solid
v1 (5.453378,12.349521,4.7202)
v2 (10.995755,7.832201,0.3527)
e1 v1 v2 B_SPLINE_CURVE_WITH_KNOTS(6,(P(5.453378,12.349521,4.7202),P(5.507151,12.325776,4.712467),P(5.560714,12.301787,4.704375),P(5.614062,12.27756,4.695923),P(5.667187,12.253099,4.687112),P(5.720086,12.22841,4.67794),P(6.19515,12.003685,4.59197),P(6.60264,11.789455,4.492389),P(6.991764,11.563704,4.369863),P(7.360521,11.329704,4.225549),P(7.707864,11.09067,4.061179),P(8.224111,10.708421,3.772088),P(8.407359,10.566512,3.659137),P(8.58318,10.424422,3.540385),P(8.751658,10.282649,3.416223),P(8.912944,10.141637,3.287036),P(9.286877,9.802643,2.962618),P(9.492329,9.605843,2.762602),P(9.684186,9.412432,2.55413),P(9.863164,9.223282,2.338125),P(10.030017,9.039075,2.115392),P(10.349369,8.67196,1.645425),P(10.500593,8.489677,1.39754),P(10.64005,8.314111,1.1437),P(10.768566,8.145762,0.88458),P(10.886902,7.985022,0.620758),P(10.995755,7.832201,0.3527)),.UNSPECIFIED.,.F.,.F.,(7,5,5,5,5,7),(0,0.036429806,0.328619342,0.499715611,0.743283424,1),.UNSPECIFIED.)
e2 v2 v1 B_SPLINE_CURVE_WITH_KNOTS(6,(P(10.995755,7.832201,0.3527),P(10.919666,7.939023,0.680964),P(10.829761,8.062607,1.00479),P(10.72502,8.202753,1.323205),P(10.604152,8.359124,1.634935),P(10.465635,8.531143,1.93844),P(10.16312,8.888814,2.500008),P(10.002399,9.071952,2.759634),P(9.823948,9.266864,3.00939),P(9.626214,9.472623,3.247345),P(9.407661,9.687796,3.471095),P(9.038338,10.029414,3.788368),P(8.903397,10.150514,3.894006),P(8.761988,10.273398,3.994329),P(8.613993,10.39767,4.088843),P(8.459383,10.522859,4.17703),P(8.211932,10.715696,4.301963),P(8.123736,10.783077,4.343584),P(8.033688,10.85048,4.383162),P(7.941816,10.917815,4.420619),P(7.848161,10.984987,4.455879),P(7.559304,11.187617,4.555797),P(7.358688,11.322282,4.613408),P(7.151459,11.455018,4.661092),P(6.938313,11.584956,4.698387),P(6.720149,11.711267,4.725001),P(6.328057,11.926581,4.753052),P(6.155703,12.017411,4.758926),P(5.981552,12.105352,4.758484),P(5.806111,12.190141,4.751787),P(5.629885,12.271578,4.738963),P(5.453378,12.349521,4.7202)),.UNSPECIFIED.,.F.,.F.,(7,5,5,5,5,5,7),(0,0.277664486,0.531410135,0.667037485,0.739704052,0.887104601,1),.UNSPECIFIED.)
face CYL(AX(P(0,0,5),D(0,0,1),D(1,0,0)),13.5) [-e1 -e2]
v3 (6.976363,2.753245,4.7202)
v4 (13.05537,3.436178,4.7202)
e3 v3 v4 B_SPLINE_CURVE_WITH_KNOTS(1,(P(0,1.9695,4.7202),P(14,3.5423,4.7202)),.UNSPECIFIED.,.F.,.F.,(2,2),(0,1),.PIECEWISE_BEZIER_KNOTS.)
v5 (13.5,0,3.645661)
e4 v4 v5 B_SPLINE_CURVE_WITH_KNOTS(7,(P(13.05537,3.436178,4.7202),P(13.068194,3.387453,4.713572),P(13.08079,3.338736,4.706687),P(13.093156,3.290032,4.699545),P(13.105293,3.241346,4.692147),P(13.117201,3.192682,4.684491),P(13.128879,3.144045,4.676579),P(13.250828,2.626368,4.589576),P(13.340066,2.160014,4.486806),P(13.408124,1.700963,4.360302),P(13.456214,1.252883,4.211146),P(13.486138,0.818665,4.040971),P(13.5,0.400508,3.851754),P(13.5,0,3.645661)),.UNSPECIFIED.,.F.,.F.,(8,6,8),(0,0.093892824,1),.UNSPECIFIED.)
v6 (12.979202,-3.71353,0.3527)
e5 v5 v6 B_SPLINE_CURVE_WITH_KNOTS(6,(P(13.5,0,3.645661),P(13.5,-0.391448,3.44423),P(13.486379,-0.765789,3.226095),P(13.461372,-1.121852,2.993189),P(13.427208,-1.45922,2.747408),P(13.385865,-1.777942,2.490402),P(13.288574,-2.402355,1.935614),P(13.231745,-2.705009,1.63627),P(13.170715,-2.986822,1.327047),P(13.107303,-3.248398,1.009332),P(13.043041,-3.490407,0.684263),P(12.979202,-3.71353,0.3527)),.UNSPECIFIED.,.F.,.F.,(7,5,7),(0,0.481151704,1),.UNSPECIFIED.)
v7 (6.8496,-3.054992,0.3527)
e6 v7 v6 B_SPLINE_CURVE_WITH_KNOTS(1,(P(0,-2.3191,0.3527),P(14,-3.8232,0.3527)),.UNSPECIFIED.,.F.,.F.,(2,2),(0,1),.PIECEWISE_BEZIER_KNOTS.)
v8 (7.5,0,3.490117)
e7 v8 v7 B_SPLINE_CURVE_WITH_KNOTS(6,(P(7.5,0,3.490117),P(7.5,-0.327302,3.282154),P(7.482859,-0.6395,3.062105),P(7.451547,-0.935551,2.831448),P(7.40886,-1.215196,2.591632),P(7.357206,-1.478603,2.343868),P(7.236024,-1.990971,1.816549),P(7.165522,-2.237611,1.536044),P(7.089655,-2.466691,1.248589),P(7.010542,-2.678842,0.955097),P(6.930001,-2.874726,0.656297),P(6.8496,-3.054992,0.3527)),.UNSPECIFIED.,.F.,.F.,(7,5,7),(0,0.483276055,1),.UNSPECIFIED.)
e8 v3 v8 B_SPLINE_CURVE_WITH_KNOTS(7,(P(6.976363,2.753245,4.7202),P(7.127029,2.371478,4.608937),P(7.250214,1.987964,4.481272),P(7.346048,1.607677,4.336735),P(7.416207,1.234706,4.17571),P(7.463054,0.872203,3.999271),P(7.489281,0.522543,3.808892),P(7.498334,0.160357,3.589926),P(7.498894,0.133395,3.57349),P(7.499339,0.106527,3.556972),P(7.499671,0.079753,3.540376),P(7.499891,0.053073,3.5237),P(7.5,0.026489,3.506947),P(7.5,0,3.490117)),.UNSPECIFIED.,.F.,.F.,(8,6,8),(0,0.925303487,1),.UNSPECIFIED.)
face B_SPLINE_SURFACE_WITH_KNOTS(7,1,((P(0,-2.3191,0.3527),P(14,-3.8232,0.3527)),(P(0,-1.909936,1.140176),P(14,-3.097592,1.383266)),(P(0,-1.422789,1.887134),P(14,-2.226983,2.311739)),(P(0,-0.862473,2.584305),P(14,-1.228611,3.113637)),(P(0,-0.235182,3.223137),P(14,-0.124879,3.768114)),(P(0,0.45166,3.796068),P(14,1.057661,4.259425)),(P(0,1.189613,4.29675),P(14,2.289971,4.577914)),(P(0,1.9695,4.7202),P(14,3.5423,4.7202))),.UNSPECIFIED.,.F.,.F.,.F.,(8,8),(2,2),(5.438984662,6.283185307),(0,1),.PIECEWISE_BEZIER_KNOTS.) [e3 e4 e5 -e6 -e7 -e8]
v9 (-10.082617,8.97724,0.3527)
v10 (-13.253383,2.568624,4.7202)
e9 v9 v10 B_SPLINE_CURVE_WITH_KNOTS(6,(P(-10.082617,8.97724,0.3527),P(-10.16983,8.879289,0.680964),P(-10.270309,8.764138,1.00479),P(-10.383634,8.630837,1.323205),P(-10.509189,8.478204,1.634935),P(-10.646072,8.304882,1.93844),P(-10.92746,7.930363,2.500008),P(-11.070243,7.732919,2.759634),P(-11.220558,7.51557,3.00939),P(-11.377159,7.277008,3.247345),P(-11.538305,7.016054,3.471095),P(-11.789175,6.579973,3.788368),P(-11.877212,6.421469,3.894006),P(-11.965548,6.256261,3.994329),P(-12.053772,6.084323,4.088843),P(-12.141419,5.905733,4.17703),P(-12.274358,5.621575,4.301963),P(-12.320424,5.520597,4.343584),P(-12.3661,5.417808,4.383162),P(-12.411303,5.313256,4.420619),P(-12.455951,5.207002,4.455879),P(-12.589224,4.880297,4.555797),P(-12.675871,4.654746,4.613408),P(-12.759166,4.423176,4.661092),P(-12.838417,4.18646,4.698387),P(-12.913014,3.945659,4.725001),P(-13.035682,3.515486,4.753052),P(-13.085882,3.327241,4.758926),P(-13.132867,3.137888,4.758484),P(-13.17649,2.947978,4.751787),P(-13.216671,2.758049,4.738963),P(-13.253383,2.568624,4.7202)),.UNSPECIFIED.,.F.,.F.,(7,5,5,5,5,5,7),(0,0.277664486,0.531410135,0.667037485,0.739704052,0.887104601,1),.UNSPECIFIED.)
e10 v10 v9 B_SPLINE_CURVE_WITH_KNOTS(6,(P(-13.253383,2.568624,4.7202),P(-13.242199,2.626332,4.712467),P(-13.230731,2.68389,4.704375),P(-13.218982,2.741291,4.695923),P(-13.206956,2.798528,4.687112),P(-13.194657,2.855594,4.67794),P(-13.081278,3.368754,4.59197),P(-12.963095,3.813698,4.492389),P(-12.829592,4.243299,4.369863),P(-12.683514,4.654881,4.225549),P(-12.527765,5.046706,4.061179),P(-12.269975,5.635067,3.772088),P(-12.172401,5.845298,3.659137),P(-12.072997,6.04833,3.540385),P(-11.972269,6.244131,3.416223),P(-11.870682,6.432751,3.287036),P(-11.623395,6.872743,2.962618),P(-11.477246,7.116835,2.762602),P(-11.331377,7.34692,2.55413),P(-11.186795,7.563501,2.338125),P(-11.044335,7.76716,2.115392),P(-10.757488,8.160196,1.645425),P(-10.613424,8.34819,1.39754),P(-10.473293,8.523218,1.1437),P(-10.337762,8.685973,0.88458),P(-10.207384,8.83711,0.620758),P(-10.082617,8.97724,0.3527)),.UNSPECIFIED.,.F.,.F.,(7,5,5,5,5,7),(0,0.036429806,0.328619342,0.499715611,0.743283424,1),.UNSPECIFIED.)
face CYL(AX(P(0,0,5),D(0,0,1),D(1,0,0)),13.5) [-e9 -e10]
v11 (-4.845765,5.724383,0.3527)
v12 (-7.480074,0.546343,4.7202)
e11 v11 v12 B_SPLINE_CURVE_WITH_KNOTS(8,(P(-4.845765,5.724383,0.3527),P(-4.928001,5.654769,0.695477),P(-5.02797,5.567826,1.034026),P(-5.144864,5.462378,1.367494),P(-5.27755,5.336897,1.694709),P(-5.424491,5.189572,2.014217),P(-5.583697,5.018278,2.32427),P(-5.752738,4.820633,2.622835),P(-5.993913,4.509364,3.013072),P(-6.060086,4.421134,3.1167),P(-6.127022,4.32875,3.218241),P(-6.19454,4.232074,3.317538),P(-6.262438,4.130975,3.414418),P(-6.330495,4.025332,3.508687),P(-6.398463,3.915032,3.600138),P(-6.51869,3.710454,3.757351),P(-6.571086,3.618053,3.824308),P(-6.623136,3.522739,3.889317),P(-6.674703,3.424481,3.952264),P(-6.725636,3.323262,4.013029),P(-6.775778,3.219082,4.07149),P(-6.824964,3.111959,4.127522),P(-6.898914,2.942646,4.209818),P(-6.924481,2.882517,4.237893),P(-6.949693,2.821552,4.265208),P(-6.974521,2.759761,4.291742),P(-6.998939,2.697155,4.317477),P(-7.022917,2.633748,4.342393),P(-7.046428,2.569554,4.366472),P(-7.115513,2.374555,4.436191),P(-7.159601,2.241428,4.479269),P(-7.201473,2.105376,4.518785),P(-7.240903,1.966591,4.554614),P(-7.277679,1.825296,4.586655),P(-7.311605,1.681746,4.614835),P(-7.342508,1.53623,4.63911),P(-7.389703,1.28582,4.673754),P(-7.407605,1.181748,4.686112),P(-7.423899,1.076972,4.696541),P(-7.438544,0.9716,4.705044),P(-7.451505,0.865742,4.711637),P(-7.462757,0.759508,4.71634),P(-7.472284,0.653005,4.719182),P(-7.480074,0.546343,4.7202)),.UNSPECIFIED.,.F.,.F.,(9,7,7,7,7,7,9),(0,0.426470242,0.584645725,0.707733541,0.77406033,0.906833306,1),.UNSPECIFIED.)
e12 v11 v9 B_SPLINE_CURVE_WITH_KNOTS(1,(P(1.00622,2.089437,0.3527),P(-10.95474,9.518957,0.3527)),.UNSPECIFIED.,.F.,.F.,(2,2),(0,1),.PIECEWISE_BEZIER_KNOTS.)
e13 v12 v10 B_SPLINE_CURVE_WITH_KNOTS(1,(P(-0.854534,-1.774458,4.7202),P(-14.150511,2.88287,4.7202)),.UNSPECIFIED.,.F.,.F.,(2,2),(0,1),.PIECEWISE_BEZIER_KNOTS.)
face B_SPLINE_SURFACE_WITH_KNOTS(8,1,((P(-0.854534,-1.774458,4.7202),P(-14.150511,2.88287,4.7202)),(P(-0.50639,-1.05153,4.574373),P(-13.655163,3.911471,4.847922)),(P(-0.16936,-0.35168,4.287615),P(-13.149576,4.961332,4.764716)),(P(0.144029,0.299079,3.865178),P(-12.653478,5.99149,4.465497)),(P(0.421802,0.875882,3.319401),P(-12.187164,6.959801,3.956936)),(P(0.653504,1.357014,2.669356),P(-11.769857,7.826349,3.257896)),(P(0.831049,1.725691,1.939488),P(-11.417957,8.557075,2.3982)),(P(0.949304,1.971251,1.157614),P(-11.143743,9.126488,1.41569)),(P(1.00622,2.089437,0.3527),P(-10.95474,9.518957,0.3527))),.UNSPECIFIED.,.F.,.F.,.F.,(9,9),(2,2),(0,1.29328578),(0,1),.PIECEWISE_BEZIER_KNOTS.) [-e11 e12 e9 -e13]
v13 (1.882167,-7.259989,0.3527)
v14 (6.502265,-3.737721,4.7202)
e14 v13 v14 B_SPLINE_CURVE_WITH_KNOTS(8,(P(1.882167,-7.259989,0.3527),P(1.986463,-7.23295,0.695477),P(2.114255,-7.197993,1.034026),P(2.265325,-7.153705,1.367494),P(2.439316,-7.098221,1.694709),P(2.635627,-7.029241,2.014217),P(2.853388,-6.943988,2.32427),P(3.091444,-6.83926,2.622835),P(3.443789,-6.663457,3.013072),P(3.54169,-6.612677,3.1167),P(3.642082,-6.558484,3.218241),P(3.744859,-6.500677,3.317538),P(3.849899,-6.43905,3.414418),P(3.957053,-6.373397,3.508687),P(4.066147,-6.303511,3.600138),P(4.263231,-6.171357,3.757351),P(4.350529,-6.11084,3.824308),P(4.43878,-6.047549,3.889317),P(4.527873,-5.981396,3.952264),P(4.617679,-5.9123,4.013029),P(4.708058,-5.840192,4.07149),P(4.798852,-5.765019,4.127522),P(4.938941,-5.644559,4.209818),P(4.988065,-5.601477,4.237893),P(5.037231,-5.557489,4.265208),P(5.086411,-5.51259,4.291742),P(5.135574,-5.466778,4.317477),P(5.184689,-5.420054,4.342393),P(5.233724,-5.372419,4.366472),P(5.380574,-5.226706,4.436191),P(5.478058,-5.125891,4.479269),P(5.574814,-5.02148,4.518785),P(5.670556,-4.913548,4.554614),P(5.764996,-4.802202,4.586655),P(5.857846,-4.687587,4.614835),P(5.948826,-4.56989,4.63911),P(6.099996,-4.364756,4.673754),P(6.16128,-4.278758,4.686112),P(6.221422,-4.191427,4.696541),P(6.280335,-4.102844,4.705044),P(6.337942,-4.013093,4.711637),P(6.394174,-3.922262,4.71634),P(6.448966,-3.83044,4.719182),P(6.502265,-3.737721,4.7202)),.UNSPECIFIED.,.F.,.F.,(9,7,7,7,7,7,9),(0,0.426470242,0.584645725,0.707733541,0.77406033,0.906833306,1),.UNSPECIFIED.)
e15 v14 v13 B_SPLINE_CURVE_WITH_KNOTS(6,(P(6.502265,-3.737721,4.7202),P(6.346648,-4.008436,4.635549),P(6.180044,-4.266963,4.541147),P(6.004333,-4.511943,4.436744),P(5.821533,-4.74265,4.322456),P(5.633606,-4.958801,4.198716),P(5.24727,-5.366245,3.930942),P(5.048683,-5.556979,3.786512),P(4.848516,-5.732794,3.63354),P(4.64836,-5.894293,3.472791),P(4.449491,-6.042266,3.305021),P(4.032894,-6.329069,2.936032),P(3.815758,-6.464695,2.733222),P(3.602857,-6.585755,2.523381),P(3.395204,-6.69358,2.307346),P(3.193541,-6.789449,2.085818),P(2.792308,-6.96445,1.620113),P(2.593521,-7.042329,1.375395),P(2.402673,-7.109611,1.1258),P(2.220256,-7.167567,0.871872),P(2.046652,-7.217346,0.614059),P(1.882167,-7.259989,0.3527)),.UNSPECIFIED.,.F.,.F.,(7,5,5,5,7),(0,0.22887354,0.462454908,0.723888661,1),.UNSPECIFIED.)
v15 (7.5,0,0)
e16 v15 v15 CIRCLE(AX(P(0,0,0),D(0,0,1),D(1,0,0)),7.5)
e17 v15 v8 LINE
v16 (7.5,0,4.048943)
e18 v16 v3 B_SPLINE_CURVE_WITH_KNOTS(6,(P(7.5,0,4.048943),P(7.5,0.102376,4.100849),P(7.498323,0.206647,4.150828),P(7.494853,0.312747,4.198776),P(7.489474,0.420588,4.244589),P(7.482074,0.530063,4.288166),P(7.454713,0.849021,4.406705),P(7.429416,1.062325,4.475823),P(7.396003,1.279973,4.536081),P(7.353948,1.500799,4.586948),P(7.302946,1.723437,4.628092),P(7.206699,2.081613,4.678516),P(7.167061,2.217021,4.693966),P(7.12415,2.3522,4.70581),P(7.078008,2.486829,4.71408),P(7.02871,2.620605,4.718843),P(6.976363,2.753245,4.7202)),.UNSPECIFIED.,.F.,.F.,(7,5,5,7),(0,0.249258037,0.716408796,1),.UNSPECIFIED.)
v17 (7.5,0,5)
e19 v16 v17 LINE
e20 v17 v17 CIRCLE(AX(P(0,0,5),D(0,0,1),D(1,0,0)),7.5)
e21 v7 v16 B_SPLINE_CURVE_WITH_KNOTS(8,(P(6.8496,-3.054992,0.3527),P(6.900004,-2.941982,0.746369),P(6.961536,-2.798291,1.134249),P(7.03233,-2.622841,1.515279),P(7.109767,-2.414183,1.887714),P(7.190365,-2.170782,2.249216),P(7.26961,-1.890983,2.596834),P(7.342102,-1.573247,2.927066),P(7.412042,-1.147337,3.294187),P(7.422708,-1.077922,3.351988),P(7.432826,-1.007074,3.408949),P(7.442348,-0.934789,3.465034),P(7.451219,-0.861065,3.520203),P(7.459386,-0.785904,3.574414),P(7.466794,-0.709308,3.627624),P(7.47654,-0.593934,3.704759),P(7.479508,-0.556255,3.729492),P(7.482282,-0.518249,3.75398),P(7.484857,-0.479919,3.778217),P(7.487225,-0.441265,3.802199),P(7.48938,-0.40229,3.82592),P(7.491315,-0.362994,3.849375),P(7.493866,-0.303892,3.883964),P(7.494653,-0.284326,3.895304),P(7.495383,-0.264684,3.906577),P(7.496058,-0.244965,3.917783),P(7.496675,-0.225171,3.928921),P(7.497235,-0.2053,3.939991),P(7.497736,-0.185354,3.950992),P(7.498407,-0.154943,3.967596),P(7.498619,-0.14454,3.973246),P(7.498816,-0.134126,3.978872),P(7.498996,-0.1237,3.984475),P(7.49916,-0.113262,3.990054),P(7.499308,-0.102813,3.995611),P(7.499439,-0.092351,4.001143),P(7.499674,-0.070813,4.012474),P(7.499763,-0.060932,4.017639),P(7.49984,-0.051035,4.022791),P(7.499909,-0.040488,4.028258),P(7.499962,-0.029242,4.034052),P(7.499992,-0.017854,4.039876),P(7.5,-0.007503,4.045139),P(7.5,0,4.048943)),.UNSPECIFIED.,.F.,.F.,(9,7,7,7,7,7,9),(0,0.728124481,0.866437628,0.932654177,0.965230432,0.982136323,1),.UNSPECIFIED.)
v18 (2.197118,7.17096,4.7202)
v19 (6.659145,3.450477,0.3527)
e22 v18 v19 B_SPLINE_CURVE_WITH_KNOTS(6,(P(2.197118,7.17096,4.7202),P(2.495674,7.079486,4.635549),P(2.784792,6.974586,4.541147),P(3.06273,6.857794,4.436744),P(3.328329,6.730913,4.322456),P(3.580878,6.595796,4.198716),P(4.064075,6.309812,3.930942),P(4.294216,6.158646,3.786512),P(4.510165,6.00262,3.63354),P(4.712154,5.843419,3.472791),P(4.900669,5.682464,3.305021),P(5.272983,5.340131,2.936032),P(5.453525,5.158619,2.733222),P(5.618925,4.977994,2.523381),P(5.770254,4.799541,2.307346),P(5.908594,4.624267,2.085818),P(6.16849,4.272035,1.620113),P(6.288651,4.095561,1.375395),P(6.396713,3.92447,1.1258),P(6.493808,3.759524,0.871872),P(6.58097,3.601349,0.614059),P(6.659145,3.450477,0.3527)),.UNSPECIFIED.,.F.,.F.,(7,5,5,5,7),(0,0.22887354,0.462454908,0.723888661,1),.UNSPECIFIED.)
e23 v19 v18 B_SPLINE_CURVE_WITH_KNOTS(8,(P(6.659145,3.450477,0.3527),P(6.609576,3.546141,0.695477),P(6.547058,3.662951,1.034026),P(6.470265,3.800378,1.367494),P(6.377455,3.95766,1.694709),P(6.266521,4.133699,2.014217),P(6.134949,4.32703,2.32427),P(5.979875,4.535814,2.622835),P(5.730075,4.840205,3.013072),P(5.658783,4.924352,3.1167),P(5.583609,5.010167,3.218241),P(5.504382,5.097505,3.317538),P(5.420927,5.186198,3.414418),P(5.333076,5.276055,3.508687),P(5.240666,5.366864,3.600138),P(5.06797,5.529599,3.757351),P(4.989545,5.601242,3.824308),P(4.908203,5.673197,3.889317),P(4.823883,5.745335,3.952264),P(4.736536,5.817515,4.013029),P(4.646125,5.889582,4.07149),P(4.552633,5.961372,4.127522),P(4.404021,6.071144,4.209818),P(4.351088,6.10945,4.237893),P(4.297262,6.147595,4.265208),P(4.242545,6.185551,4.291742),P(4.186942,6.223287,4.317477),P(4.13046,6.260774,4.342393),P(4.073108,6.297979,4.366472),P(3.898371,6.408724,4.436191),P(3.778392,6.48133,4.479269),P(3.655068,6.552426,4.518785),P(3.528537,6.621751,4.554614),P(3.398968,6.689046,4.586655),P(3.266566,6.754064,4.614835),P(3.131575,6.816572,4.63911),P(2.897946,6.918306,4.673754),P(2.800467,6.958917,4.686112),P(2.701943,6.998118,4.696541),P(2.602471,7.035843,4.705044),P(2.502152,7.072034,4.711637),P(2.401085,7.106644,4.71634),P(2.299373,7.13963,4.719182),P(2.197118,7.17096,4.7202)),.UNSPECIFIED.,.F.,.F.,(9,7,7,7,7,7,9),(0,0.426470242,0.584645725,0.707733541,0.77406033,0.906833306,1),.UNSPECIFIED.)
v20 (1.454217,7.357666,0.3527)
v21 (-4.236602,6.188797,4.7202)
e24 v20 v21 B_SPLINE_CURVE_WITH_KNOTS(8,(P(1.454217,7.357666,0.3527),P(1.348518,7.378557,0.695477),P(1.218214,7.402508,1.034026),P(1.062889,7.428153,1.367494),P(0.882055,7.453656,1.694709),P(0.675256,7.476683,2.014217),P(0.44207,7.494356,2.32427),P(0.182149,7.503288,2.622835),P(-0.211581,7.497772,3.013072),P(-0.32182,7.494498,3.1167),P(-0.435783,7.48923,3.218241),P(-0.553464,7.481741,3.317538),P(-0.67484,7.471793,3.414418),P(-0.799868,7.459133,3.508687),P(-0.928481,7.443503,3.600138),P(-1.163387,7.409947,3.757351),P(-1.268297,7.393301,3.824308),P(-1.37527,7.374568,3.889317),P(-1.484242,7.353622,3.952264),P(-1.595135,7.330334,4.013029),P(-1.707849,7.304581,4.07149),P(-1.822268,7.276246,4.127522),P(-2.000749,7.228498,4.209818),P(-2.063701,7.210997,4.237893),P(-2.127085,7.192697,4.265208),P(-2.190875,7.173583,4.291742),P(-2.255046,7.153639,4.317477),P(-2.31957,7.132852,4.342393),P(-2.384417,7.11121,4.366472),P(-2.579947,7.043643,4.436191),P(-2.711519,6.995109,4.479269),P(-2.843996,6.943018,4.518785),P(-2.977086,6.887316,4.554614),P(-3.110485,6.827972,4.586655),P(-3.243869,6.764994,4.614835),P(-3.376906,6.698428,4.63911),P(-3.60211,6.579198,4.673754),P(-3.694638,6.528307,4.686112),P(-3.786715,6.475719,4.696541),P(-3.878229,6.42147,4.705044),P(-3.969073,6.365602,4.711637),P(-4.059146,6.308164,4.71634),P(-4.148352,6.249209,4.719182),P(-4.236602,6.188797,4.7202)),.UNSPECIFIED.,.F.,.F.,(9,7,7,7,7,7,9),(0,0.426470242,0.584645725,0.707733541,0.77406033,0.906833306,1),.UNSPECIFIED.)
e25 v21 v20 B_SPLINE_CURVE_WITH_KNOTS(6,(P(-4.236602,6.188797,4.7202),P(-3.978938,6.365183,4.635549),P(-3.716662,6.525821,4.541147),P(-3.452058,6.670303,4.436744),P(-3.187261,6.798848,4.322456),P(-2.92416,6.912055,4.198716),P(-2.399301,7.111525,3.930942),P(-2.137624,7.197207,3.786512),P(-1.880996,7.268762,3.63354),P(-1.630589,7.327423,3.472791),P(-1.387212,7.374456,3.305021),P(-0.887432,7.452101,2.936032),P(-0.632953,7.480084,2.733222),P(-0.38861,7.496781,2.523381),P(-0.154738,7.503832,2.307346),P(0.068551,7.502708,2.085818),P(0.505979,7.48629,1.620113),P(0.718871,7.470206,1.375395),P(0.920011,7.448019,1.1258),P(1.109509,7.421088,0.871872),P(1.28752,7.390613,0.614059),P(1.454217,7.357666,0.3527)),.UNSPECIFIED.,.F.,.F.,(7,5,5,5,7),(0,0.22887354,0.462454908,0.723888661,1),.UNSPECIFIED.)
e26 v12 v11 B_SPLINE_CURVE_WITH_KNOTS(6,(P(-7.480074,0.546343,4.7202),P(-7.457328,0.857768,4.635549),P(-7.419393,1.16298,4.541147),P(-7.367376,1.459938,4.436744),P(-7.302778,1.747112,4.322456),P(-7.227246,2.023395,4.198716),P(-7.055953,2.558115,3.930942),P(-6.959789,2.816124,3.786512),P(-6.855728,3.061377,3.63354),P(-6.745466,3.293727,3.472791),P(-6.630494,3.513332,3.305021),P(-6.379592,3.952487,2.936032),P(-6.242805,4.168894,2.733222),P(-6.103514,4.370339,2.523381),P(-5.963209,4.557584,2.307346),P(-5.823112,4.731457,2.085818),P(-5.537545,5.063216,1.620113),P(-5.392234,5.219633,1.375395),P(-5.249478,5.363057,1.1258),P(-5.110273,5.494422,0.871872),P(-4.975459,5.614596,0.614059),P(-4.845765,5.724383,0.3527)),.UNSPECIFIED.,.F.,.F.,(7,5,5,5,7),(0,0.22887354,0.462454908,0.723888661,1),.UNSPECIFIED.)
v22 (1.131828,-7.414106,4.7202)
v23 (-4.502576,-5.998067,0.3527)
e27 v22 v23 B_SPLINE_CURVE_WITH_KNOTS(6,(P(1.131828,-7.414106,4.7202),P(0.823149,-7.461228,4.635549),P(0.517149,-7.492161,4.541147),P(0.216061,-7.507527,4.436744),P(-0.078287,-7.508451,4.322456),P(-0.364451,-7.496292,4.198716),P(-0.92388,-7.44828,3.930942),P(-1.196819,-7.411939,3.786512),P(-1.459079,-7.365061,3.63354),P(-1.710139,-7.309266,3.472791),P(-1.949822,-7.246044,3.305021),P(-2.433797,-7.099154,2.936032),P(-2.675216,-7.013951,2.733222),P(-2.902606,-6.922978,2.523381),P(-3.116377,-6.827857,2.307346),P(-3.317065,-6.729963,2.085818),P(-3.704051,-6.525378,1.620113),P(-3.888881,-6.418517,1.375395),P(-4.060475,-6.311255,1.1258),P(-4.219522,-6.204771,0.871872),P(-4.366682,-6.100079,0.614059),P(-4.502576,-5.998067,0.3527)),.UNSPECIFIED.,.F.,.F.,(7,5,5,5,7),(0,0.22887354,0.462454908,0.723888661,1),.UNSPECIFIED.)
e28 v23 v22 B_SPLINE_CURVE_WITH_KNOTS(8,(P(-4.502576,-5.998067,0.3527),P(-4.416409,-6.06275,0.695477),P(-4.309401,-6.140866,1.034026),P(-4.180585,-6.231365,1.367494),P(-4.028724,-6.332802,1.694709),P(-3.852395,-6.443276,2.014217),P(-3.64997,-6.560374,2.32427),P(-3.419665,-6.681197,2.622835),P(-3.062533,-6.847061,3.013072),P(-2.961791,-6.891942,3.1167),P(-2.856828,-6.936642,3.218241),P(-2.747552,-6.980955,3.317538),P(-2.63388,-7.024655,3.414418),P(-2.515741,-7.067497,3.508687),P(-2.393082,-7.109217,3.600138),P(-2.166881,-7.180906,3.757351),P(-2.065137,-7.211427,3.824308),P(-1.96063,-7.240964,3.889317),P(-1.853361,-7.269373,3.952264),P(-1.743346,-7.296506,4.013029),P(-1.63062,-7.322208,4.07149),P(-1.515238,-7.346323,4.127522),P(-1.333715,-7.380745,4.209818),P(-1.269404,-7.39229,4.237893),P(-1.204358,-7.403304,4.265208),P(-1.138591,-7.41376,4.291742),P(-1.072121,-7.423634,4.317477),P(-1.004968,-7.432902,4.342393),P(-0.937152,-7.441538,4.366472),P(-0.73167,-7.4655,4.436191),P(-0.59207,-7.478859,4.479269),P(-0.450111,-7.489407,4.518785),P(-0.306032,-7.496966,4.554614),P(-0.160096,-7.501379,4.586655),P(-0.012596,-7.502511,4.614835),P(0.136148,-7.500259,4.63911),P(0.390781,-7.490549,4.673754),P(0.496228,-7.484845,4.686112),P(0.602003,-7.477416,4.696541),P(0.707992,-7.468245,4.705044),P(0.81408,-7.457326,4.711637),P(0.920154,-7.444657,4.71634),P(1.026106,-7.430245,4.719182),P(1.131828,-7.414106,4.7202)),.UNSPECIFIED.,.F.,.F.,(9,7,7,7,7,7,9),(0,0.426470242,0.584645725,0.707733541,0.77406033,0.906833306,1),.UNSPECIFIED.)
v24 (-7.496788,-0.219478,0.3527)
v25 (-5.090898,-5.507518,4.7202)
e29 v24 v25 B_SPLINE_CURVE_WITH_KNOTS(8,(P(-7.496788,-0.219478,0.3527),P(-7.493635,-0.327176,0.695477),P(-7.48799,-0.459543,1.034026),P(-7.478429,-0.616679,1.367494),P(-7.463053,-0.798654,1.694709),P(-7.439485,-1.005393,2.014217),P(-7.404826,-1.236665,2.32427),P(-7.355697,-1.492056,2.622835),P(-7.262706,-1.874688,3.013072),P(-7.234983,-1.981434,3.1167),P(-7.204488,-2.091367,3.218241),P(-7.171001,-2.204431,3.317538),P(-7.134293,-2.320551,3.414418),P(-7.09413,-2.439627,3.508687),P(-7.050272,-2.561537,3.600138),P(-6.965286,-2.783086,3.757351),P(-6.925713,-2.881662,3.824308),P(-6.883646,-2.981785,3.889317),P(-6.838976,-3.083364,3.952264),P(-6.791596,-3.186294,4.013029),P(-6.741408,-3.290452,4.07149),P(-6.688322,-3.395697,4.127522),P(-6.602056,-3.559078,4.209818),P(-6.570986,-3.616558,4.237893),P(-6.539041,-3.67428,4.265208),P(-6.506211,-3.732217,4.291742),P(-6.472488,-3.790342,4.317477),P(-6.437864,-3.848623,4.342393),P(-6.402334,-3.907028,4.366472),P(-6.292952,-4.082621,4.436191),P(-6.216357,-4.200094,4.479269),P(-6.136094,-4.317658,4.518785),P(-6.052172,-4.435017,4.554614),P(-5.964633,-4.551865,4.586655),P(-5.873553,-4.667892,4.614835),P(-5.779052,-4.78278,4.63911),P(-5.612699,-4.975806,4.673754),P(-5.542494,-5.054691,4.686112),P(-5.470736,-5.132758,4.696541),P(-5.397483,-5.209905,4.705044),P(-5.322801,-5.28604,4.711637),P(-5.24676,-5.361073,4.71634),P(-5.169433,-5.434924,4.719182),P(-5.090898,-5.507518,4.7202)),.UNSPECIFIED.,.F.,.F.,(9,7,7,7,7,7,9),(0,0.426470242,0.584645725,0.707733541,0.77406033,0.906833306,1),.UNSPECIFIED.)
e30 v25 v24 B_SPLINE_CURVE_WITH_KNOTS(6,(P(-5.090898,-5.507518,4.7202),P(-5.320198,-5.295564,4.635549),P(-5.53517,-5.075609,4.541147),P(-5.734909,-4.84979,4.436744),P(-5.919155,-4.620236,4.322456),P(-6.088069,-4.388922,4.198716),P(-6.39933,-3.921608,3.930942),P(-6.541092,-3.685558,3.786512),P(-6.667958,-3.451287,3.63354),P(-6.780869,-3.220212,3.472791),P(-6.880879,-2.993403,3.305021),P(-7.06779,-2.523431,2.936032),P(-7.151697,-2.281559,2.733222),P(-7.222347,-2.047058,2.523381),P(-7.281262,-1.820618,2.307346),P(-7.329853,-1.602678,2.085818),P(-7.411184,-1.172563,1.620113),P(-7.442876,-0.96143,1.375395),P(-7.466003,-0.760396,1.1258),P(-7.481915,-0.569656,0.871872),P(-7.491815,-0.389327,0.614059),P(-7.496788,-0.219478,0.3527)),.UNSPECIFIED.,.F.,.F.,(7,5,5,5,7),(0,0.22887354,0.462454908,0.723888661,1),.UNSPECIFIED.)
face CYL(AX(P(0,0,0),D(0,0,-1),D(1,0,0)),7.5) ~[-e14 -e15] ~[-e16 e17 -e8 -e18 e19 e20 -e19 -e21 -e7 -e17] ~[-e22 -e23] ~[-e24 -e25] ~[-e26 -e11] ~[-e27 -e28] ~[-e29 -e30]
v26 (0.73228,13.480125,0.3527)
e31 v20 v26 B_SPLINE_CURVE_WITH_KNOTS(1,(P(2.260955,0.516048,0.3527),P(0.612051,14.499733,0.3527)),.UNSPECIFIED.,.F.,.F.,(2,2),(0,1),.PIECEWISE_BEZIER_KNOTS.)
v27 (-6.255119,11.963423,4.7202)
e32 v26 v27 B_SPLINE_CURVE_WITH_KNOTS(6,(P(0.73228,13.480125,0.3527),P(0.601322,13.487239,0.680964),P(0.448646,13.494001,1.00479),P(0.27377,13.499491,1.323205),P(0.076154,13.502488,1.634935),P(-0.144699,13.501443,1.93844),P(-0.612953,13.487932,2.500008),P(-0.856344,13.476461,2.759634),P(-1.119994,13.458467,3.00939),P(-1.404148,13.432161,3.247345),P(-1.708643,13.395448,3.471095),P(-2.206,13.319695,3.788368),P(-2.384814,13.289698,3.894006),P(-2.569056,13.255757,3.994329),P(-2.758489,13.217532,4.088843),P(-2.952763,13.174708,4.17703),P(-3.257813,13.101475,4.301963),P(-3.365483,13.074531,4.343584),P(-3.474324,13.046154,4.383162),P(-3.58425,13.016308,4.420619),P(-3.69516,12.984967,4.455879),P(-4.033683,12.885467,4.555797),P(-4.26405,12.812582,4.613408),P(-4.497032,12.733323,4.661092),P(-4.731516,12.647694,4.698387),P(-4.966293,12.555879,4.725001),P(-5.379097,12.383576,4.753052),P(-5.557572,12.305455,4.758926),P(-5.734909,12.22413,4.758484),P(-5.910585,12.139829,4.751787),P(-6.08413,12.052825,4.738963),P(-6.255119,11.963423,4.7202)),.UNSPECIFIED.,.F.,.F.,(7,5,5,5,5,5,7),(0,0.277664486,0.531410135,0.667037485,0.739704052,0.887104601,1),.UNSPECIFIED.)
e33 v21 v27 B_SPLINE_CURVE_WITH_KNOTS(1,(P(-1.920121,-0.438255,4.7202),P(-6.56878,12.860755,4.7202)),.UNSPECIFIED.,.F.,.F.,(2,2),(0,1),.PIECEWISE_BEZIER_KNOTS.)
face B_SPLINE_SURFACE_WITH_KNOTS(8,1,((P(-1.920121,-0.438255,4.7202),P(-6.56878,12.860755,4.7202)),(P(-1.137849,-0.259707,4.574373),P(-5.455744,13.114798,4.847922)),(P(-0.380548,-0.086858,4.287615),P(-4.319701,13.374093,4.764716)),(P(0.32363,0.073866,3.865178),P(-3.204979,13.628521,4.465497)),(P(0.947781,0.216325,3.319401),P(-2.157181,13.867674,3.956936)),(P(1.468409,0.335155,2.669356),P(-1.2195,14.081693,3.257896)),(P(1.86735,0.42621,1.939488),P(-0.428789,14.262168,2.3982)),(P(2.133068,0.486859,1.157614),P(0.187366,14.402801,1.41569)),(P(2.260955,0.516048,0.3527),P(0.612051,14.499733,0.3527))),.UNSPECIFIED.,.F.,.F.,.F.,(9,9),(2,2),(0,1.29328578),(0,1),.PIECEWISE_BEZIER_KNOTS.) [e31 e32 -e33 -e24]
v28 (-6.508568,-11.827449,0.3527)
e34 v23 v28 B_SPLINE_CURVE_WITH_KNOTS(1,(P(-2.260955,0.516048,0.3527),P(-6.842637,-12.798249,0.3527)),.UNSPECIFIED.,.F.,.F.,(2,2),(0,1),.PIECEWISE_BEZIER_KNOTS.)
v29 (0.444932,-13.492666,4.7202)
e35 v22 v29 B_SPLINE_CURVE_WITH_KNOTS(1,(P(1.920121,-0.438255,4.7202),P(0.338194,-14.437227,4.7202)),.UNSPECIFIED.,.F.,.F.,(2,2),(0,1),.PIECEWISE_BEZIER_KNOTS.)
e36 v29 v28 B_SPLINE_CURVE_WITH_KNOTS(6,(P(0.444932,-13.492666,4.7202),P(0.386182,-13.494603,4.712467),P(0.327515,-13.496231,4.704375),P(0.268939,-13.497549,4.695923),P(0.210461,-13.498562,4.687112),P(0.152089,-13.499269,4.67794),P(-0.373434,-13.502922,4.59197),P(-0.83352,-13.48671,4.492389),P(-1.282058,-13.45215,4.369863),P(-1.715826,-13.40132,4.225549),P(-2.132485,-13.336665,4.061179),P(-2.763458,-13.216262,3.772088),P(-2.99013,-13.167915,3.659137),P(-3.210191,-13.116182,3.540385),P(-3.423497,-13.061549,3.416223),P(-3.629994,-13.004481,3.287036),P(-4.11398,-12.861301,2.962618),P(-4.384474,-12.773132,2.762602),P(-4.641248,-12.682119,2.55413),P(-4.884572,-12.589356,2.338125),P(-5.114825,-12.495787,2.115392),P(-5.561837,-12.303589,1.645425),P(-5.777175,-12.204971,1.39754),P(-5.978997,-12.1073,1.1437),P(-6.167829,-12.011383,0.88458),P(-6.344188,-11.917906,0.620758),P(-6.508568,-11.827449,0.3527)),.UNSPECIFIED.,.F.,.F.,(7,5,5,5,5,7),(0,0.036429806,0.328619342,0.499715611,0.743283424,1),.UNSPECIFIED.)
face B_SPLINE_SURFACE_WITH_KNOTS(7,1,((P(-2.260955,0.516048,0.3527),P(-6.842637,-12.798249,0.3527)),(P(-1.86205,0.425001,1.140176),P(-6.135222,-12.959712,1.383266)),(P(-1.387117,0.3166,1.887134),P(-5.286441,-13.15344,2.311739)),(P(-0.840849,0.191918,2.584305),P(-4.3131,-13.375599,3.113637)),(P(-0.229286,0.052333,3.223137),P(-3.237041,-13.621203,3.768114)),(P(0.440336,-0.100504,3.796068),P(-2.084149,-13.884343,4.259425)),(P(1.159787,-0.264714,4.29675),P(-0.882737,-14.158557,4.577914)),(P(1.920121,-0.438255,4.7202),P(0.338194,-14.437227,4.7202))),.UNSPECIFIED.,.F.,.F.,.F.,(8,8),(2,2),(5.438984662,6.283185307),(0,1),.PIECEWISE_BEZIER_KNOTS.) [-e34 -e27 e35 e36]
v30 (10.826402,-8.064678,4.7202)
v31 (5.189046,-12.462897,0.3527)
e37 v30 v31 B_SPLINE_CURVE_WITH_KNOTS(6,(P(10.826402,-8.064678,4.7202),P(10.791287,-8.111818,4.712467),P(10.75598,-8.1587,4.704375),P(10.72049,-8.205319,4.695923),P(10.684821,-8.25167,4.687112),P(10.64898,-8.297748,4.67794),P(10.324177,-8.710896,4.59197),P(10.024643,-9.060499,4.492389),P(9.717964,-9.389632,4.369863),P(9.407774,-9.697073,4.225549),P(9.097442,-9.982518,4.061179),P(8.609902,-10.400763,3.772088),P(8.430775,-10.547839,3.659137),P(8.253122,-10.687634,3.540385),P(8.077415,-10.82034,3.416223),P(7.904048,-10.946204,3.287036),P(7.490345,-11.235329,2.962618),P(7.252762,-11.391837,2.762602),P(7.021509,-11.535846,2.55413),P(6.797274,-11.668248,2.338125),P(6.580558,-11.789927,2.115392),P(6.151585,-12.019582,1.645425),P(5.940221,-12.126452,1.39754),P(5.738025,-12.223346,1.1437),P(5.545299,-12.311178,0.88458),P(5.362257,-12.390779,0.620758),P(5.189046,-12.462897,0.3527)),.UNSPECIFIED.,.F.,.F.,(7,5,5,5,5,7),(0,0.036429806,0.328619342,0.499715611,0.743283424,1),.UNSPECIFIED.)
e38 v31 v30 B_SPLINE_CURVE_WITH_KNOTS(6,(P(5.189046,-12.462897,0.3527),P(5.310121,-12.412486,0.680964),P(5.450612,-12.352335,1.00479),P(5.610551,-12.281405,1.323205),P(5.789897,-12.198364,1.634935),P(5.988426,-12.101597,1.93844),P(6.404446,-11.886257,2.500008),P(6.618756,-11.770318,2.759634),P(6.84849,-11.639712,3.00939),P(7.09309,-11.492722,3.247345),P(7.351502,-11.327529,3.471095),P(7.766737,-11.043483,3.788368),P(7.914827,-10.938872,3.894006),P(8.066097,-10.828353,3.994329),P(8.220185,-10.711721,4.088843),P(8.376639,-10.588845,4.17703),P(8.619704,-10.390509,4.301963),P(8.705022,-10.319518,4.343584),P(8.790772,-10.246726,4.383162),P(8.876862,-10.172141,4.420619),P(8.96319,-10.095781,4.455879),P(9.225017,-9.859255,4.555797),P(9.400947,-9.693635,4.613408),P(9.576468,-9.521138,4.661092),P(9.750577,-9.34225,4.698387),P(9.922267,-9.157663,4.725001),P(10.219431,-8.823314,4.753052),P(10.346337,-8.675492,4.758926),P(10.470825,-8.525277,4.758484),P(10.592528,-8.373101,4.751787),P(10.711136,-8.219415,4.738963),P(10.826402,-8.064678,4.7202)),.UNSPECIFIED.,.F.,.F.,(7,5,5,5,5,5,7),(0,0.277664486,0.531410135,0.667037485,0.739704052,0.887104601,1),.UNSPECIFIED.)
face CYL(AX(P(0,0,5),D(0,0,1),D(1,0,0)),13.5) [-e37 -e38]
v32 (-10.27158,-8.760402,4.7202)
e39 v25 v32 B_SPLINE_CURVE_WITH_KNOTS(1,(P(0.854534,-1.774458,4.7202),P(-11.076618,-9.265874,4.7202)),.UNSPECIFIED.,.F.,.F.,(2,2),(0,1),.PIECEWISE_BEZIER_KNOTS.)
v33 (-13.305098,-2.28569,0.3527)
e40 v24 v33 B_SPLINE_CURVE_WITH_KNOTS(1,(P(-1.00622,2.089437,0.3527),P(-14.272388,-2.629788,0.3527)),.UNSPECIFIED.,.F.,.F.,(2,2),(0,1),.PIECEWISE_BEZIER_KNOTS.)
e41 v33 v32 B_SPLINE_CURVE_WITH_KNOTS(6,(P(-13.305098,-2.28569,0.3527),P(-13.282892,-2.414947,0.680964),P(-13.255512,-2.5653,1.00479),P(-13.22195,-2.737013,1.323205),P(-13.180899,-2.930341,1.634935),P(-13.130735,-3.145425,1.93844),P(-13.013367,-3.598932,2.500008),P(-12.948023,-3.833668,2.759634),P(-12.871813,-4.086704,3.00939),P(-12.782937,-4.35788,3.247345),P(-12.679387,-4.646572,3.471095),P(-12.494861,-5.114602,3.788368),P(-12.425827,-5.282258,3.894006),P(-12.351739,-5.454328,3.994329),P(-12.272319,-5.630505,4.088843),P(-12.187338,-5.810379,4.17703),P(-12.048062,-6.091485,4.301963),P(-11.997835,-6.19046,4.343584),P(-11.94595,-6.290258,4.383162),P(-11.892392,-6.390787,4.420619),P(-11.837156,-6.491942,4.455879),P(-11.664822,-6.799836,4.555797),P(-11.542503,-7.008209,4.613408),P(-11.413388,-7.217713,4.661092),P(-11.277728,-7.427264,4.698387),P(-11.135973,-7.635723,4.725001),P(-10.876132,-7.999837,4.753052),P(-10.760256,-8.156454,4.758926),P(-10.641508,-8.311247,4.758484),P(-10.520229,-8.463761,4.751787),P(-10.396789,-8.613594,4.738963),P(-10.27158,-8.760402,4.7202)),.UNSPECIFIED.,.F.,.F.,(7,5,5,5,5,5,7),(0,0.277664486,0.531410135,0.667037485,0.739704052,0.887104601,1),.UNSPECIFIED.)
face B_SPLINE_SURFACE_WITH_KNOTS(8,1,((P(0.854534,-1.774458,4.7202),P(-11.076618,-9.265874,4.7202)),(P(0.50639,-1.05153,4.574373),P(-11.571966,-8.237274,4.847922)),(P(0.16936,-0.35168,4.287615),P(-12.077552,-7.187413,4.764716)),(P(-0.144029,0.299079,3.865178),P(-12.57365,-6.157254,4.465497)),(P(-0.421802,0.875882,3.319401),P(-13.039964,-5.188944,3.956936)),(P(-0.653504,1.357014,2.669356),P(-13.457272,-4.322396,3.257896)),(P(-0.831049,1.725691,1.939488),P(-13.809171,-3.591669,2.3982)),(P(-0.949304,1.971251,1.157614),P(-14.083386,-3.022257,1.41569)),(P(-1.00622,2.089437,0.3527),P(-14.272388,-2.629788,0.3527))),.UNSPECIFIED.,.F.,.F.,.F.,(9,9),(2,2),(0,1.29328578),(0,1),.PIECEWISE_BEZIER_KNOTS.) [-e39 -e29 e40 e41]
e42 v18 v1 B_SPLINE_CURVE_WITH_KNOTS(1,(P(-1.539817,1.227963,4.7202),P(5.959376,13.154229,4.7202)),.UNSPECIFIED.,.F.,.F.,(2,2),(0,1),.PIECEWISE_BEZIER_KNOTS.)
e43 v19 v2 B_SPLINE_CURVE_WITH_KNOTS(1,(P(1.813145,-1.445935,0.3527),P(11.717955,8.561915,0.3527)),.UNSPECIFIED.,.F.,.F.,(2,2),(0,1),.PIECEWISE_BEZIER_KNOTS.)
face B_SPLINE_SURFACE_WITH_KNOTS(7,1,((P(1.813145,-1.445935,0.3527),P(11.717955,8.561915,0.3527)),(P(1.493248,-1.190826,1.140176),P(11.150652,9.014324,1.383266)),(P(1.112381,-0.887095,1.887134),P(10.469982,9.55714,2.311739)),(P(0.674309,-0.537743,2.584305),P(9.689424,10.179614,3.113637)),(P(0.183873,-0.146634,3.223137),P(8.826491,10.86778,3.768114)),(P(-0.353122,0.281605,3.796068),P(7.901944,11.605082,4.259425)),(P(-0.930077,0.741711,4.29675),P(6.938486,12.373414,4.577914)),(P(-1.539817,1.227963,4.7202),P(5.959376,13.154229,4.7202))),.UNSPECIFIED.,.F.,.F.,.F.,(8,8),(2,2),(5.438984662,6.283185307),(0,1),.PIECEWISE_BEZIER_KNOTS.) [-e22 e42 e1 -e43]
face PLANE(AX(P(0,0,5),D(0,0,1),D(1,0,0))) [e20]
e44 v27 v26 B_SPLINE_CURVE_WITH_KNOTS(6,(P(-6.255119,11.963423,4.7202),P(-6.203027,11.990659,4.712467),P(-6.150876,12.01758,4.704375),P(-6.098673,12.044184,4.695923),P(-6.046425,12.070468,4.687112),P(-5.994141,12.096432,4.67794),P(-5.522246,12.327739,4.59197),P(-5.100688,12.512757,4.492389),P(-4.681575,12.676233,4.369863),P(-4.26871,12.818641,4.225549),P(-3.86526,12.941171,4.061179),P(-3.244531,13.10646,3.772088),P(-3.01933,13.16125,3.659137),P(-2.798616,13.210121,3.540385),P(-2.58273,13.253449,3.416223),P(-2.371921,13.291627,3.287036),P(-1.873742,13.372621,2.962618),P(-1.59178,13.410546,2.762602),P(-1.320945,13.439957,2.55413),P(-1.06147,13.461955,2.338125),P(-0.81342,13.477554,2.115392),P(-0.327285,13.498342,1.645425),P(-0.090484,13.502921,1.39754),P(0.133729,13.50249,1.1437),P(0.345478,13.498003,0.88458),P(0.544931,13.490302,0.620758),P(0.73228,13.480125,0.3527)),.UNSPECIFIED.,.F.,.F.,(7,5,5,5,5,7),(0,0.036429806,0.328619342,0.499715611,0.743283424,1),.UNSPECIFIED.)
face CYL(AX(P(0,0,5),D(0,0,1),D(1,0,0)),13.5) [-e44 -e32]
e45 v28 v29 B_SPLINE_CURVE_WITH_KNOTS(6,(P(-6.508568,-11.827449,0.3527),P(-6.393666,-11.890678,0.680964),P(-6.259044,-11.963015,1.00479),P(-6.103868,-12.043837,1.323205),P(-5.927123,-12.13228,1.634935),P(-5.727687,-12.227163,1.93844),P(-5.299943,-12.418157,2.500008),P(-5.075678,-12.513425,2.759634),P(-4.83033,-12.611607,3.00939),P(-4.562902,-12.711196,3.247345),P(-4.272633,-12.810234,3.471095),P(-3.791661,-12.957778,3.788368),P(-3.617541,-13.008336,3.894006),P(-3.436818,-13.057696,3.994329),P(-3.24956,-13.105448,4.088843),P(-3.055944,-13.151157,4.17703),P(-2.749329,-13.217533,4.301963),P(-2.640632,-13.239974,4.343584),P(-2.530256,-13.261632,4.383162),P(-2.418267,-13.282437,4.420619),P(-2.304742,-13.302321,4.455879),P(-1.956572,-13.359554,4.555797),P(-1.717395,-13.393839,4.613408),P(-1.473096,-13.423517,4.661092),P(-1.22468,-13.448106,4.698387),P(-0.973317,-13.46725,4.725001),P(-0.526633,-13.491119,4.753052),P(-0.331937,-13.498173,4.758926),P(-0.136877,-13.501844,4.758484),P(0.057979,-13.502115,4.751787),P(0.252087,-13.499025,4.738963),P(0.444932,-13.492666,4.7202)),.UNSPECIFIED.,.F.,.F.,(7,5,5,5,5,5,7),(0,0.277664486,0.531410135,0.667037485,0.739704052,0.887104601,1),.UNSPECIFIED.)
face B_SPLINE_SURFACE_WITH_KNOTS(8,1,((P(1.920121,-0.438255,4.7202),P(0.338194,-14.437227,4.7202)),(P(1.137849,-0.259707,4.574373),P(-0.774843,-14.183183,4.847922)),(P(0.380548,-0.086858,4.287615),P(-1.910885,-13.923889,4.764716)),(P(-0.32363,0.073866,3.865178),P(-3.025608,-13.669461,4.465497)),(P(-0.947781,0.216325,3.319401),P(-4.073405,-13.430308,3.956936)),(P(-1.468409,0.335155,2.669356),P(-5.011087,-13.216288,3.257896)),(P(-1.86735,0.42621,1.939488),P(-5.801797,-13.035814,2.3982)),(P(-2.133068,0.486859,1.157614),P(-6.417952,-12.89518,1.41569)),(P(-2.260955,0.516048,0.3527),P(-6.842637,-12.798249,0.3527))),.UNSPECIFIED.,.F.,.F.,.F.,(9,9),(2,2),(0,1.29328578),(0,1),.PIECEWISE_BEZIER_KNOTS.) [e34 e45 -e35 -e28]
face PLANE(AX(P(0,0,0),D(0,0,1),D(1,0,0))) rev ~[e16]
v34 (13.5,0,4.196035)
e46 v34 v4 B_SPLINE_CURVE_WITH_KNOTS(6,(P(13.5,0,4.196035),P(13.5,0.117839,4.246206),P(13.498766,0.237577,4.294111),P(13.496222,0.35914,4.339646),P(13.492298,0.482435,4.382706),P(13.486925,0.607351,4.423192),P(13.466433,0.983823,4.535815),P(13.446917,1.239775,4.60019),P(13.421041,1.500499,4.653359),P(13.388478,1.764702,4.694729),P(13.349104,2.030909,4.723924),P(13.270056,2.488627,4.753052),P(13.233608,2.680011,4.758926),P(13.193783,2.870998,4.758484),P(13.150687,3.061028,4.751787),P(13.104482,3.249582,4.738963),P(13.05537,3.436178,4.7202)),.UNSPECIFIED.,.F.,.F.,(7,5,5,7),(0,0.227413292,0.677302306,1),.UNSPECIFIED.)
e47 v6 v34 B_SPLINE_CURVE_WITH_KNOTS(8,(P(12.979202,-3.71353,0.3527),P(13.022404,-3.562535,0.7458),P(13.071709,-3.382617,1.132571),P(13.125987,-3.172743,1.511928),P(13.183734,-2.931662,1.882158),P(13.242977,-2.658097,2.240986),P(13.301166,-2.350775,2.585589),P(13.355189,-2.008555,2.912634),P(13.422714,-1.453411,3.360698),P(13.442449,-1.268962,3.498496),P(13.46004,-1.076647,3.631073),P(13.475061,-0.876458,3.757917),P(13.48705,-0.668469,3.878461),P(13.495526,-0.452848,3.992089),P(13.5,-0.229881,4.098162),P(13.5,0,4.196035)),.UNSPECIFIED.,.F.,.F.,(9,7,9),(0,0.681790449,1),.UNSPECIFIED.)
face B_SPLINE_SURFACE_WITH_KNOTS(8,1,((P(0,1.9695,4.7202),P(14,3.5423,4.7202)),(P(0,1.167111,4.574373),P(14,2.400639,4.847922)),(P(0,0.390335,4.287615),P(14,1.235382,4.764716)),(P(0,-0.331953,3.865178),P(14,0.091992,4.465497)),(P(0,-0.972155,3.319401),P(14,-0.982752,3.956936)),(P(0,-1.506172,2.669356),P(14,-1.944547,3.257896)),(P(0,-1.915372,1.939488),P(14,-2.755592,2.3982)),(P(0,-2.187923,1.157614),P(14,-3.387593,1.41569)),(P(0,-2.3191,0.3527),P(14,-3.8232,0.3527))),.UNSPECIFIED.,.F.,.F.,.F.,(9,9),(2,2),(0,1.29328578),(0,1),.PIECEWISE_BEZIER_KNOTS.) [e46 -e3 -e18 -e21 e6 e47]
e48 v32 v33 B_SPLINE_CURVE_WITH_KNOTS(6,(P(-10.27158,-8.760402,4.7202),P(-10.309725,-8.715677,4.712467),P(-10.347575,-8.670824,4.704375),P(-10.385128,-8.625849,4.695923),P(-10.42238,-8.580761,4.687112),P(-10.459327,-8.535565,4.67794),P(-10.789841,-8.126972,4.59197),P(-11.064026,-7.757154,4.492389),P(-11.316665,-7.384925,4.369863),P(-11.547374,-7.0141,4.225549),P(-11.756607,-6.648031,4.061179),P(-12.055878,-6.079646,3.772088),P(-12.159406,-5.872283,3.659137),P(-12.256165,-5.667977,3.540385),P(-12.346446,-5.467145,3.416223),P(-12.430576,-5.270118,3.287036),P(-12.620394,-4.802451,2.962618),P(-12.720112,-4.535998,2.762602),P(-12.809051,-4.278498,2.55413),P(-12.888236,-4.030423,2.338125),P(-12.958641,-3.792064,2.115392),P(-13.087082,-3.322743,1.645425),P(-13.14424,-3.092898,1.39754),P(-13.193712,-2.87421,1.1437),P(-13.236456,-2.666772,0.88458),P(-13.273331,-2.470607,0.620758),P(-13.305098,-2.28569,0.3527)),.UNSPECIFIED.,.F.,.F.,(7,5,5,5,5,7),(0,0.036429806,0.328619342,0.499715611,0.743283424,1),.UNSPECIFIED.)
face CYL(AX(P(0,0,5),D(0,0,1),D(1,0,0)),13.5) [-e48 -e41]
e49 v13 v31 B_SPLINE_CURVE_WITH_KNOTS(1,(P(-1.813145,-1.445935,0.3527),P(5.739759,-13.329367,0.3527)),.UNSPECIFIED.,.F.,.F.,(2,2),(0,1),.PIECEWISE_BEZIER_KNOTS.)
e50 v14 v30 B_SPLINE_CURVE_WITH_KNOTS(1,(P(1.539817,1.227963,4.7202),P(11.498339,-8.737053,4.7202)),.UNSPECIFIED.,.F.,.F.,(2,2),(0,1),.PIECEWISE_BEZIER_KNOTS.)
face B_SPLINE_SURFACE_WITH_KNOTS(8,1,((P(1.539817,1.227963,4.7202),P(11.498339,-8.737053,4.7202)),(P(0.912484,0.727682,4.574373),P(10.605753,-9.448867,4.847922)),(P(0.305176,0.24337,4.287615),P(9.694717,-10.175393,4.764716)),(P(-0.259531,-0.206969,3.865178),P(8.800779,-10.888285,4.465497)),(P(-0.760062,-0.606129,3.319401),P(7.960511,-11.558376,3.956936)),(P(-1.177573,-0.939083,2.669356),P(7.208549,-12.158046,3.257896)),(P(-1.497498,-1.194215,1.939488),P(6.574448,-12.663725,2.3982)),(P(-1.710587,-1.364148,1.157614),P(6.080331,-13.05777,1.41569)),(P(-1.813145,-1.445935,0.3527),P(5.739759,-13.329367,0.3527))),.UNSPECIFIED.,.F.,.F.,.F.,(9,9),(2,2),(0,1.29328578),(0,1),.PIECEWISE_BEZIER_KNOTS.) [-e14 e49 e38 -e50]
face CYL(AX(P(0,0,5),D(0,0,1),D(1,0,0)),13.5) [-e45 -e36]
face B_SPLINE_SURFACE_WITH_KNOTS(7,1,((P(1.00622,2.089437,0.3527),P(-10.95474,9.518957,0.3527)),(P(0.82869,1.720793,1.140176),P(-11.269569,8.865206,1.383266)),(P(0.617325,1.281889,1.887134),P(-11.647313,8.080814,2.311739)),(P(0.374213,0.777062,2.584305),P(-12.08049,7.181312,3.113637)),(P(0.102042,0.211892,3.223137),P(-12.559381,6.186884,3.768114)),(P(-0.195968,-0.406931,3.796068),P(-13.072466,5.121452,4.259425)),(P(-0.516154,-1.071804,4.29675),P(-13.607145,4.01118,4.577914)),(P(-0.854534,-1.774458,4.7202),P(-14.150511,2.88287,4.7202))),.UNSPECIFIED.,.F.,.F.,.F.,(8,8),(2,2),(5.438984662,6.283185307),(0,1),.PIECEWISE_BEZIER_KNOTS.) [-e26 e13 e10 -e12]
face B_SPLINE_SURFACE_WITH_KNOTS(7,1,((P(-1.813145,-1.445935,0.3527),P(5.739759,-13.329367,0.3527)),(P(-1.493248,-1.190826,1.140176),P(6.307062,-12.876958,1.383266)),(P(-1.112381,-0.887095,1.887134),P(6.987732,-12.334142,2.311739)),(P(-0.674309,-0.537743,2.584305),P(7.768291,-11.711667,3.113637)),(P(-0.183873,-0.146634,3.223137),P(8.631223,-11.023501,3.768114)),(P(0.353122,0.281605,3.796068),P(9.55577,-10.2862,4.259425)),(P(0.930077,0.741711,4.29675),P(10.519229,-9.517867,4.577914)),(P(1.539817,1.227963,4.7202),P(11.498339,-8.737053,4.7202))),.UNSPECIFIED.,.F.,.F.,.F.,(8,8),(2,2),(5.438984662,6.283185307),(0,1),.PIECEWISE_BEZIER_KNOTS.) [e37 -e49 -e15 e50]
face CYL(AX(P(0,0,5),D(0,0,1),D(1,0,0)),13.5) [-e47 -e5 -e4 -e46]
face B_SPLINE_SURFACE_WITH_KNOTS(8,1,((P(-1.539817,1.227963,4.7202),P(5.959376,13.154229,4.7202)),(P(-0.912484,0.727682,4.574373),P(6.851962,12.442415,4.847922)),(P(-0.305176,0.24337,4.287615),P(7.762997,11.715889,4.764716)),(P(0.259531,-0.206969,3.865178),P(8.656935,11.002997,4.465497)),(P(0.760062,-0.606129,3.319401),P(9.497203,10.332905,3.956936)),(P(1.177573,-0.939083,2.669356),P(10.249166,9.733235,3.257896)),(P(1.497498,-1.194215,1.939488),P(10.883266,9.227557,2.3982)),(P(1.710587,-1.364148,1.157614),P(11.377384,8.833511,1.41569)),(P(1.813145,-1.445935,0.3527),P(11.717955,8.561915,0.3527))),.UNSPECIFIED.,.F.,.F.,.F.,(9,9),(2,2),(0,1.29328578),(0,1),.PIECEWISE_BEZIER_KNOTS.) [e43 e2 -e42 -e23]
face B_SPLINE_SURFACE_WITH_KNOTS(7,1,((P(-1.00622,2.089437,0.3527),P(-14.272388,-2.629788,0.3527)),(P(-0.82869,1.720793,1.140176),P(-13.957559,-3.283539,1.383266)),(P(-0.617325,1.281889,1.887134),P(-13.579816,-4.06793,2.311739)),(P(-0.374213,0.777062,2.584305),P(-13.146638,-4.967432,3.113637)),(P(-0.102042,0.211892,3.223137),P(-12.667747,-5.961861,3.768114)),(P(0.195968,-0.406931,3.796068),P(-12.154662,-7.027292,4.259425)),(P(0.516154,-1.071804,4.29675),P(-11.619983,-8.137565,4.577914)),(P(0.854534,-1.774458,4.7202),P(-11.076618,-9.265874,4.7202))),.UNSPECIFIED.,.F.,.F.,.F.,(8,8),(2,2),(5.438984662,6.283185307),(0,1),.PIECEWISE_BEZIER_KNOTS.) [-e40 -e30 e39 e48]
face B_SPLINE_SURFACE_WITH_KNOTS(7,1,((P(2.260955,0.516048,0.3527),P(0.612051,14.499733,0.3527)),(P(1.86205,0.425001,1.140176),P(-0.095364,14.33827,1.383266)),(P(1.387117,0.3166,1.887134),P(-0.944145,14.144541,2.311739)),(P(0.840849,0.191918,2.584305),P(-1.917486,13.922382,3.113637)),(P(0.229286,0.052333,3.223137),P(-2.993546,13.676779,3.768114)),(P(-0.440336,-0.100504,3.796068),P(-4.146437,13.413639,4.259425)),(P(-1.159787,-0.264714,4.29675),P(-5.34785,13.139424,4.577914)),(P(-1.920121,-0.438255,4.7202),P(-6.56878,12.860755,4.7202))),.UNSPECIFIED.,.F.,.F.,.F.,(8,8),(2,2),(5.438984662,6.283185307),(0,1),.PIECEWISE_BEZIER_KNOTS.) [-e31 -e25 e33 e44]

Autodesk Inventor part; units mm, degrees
ref_plane "YZ Plane" through (0, 0, 0) normal (1, 0, 0) x (0, 1, 0)
ref_plane "XZ Plane" through (0, 0, 0) normal (0, 1, 0) x (-1, 0, 0)
ref_plane "Work Plane1" through (14, 0, 0) normal (1, 0, 0) x (0, 0, -1)
sketch "Sketch2" plane through (0, 0, 0) normal (1, 0, 0) x (0, 1, 0)
  arc A0 (1.9695, 4.7202) -> (-2.3191, 0.3527) centre (2.9183, -0.5007) ccw
  arc A1 (1.9695, 4.7202) -> (-2.3191, 0.3527) centre (6.9579, -4.4673) ccw
sketch "Sketch5" plane through (14, 0, 0) normal (1, 0, 0) x (0, 0, -1)
  arc A0 (-4.7202, 3.5423) -> (-0.3527, -3.8232) centre (2.3417, 2.7522) ccw
  arc A1 (-4.7202, 3.5423) -> (-0.3527, -3.8232) centre (5.6636, 4.722) ccw
loft "Loft1" add profiles "Sketch2", "Sketch5"
sketch "Sketch7" plane through (0, 0, 0) normal (0, 0, 1) x (1, 0, 0)
  circle A0 centre (0, 0) radius 7.5
  dimension "d10" = 15
extrude "Extrusion3" add sketch "Sketch7" along normal blind 5
pattern_circular "Circular Pattern1" count 7 over 360 about axis through (0, 0, 0) along (0, 0, 1) of "Loft1"
sketch "Sketch8" plane through (0, 0, 5) normal (0, 0, 1) x (1, 0, 0)
  circle A0 centre (0, 0) radius 7.5 projected
  circle A1 centre (0, 0) radius 13.5
  circle A2 centre (0, 0) radius 15
  dimension "d16" = 27
  dimension "d17" = 30
extrude "Extrusion4" cut sketch "Sketch8" against normal blind 5 contours A2
properties part number "fan_3007_blaze"
